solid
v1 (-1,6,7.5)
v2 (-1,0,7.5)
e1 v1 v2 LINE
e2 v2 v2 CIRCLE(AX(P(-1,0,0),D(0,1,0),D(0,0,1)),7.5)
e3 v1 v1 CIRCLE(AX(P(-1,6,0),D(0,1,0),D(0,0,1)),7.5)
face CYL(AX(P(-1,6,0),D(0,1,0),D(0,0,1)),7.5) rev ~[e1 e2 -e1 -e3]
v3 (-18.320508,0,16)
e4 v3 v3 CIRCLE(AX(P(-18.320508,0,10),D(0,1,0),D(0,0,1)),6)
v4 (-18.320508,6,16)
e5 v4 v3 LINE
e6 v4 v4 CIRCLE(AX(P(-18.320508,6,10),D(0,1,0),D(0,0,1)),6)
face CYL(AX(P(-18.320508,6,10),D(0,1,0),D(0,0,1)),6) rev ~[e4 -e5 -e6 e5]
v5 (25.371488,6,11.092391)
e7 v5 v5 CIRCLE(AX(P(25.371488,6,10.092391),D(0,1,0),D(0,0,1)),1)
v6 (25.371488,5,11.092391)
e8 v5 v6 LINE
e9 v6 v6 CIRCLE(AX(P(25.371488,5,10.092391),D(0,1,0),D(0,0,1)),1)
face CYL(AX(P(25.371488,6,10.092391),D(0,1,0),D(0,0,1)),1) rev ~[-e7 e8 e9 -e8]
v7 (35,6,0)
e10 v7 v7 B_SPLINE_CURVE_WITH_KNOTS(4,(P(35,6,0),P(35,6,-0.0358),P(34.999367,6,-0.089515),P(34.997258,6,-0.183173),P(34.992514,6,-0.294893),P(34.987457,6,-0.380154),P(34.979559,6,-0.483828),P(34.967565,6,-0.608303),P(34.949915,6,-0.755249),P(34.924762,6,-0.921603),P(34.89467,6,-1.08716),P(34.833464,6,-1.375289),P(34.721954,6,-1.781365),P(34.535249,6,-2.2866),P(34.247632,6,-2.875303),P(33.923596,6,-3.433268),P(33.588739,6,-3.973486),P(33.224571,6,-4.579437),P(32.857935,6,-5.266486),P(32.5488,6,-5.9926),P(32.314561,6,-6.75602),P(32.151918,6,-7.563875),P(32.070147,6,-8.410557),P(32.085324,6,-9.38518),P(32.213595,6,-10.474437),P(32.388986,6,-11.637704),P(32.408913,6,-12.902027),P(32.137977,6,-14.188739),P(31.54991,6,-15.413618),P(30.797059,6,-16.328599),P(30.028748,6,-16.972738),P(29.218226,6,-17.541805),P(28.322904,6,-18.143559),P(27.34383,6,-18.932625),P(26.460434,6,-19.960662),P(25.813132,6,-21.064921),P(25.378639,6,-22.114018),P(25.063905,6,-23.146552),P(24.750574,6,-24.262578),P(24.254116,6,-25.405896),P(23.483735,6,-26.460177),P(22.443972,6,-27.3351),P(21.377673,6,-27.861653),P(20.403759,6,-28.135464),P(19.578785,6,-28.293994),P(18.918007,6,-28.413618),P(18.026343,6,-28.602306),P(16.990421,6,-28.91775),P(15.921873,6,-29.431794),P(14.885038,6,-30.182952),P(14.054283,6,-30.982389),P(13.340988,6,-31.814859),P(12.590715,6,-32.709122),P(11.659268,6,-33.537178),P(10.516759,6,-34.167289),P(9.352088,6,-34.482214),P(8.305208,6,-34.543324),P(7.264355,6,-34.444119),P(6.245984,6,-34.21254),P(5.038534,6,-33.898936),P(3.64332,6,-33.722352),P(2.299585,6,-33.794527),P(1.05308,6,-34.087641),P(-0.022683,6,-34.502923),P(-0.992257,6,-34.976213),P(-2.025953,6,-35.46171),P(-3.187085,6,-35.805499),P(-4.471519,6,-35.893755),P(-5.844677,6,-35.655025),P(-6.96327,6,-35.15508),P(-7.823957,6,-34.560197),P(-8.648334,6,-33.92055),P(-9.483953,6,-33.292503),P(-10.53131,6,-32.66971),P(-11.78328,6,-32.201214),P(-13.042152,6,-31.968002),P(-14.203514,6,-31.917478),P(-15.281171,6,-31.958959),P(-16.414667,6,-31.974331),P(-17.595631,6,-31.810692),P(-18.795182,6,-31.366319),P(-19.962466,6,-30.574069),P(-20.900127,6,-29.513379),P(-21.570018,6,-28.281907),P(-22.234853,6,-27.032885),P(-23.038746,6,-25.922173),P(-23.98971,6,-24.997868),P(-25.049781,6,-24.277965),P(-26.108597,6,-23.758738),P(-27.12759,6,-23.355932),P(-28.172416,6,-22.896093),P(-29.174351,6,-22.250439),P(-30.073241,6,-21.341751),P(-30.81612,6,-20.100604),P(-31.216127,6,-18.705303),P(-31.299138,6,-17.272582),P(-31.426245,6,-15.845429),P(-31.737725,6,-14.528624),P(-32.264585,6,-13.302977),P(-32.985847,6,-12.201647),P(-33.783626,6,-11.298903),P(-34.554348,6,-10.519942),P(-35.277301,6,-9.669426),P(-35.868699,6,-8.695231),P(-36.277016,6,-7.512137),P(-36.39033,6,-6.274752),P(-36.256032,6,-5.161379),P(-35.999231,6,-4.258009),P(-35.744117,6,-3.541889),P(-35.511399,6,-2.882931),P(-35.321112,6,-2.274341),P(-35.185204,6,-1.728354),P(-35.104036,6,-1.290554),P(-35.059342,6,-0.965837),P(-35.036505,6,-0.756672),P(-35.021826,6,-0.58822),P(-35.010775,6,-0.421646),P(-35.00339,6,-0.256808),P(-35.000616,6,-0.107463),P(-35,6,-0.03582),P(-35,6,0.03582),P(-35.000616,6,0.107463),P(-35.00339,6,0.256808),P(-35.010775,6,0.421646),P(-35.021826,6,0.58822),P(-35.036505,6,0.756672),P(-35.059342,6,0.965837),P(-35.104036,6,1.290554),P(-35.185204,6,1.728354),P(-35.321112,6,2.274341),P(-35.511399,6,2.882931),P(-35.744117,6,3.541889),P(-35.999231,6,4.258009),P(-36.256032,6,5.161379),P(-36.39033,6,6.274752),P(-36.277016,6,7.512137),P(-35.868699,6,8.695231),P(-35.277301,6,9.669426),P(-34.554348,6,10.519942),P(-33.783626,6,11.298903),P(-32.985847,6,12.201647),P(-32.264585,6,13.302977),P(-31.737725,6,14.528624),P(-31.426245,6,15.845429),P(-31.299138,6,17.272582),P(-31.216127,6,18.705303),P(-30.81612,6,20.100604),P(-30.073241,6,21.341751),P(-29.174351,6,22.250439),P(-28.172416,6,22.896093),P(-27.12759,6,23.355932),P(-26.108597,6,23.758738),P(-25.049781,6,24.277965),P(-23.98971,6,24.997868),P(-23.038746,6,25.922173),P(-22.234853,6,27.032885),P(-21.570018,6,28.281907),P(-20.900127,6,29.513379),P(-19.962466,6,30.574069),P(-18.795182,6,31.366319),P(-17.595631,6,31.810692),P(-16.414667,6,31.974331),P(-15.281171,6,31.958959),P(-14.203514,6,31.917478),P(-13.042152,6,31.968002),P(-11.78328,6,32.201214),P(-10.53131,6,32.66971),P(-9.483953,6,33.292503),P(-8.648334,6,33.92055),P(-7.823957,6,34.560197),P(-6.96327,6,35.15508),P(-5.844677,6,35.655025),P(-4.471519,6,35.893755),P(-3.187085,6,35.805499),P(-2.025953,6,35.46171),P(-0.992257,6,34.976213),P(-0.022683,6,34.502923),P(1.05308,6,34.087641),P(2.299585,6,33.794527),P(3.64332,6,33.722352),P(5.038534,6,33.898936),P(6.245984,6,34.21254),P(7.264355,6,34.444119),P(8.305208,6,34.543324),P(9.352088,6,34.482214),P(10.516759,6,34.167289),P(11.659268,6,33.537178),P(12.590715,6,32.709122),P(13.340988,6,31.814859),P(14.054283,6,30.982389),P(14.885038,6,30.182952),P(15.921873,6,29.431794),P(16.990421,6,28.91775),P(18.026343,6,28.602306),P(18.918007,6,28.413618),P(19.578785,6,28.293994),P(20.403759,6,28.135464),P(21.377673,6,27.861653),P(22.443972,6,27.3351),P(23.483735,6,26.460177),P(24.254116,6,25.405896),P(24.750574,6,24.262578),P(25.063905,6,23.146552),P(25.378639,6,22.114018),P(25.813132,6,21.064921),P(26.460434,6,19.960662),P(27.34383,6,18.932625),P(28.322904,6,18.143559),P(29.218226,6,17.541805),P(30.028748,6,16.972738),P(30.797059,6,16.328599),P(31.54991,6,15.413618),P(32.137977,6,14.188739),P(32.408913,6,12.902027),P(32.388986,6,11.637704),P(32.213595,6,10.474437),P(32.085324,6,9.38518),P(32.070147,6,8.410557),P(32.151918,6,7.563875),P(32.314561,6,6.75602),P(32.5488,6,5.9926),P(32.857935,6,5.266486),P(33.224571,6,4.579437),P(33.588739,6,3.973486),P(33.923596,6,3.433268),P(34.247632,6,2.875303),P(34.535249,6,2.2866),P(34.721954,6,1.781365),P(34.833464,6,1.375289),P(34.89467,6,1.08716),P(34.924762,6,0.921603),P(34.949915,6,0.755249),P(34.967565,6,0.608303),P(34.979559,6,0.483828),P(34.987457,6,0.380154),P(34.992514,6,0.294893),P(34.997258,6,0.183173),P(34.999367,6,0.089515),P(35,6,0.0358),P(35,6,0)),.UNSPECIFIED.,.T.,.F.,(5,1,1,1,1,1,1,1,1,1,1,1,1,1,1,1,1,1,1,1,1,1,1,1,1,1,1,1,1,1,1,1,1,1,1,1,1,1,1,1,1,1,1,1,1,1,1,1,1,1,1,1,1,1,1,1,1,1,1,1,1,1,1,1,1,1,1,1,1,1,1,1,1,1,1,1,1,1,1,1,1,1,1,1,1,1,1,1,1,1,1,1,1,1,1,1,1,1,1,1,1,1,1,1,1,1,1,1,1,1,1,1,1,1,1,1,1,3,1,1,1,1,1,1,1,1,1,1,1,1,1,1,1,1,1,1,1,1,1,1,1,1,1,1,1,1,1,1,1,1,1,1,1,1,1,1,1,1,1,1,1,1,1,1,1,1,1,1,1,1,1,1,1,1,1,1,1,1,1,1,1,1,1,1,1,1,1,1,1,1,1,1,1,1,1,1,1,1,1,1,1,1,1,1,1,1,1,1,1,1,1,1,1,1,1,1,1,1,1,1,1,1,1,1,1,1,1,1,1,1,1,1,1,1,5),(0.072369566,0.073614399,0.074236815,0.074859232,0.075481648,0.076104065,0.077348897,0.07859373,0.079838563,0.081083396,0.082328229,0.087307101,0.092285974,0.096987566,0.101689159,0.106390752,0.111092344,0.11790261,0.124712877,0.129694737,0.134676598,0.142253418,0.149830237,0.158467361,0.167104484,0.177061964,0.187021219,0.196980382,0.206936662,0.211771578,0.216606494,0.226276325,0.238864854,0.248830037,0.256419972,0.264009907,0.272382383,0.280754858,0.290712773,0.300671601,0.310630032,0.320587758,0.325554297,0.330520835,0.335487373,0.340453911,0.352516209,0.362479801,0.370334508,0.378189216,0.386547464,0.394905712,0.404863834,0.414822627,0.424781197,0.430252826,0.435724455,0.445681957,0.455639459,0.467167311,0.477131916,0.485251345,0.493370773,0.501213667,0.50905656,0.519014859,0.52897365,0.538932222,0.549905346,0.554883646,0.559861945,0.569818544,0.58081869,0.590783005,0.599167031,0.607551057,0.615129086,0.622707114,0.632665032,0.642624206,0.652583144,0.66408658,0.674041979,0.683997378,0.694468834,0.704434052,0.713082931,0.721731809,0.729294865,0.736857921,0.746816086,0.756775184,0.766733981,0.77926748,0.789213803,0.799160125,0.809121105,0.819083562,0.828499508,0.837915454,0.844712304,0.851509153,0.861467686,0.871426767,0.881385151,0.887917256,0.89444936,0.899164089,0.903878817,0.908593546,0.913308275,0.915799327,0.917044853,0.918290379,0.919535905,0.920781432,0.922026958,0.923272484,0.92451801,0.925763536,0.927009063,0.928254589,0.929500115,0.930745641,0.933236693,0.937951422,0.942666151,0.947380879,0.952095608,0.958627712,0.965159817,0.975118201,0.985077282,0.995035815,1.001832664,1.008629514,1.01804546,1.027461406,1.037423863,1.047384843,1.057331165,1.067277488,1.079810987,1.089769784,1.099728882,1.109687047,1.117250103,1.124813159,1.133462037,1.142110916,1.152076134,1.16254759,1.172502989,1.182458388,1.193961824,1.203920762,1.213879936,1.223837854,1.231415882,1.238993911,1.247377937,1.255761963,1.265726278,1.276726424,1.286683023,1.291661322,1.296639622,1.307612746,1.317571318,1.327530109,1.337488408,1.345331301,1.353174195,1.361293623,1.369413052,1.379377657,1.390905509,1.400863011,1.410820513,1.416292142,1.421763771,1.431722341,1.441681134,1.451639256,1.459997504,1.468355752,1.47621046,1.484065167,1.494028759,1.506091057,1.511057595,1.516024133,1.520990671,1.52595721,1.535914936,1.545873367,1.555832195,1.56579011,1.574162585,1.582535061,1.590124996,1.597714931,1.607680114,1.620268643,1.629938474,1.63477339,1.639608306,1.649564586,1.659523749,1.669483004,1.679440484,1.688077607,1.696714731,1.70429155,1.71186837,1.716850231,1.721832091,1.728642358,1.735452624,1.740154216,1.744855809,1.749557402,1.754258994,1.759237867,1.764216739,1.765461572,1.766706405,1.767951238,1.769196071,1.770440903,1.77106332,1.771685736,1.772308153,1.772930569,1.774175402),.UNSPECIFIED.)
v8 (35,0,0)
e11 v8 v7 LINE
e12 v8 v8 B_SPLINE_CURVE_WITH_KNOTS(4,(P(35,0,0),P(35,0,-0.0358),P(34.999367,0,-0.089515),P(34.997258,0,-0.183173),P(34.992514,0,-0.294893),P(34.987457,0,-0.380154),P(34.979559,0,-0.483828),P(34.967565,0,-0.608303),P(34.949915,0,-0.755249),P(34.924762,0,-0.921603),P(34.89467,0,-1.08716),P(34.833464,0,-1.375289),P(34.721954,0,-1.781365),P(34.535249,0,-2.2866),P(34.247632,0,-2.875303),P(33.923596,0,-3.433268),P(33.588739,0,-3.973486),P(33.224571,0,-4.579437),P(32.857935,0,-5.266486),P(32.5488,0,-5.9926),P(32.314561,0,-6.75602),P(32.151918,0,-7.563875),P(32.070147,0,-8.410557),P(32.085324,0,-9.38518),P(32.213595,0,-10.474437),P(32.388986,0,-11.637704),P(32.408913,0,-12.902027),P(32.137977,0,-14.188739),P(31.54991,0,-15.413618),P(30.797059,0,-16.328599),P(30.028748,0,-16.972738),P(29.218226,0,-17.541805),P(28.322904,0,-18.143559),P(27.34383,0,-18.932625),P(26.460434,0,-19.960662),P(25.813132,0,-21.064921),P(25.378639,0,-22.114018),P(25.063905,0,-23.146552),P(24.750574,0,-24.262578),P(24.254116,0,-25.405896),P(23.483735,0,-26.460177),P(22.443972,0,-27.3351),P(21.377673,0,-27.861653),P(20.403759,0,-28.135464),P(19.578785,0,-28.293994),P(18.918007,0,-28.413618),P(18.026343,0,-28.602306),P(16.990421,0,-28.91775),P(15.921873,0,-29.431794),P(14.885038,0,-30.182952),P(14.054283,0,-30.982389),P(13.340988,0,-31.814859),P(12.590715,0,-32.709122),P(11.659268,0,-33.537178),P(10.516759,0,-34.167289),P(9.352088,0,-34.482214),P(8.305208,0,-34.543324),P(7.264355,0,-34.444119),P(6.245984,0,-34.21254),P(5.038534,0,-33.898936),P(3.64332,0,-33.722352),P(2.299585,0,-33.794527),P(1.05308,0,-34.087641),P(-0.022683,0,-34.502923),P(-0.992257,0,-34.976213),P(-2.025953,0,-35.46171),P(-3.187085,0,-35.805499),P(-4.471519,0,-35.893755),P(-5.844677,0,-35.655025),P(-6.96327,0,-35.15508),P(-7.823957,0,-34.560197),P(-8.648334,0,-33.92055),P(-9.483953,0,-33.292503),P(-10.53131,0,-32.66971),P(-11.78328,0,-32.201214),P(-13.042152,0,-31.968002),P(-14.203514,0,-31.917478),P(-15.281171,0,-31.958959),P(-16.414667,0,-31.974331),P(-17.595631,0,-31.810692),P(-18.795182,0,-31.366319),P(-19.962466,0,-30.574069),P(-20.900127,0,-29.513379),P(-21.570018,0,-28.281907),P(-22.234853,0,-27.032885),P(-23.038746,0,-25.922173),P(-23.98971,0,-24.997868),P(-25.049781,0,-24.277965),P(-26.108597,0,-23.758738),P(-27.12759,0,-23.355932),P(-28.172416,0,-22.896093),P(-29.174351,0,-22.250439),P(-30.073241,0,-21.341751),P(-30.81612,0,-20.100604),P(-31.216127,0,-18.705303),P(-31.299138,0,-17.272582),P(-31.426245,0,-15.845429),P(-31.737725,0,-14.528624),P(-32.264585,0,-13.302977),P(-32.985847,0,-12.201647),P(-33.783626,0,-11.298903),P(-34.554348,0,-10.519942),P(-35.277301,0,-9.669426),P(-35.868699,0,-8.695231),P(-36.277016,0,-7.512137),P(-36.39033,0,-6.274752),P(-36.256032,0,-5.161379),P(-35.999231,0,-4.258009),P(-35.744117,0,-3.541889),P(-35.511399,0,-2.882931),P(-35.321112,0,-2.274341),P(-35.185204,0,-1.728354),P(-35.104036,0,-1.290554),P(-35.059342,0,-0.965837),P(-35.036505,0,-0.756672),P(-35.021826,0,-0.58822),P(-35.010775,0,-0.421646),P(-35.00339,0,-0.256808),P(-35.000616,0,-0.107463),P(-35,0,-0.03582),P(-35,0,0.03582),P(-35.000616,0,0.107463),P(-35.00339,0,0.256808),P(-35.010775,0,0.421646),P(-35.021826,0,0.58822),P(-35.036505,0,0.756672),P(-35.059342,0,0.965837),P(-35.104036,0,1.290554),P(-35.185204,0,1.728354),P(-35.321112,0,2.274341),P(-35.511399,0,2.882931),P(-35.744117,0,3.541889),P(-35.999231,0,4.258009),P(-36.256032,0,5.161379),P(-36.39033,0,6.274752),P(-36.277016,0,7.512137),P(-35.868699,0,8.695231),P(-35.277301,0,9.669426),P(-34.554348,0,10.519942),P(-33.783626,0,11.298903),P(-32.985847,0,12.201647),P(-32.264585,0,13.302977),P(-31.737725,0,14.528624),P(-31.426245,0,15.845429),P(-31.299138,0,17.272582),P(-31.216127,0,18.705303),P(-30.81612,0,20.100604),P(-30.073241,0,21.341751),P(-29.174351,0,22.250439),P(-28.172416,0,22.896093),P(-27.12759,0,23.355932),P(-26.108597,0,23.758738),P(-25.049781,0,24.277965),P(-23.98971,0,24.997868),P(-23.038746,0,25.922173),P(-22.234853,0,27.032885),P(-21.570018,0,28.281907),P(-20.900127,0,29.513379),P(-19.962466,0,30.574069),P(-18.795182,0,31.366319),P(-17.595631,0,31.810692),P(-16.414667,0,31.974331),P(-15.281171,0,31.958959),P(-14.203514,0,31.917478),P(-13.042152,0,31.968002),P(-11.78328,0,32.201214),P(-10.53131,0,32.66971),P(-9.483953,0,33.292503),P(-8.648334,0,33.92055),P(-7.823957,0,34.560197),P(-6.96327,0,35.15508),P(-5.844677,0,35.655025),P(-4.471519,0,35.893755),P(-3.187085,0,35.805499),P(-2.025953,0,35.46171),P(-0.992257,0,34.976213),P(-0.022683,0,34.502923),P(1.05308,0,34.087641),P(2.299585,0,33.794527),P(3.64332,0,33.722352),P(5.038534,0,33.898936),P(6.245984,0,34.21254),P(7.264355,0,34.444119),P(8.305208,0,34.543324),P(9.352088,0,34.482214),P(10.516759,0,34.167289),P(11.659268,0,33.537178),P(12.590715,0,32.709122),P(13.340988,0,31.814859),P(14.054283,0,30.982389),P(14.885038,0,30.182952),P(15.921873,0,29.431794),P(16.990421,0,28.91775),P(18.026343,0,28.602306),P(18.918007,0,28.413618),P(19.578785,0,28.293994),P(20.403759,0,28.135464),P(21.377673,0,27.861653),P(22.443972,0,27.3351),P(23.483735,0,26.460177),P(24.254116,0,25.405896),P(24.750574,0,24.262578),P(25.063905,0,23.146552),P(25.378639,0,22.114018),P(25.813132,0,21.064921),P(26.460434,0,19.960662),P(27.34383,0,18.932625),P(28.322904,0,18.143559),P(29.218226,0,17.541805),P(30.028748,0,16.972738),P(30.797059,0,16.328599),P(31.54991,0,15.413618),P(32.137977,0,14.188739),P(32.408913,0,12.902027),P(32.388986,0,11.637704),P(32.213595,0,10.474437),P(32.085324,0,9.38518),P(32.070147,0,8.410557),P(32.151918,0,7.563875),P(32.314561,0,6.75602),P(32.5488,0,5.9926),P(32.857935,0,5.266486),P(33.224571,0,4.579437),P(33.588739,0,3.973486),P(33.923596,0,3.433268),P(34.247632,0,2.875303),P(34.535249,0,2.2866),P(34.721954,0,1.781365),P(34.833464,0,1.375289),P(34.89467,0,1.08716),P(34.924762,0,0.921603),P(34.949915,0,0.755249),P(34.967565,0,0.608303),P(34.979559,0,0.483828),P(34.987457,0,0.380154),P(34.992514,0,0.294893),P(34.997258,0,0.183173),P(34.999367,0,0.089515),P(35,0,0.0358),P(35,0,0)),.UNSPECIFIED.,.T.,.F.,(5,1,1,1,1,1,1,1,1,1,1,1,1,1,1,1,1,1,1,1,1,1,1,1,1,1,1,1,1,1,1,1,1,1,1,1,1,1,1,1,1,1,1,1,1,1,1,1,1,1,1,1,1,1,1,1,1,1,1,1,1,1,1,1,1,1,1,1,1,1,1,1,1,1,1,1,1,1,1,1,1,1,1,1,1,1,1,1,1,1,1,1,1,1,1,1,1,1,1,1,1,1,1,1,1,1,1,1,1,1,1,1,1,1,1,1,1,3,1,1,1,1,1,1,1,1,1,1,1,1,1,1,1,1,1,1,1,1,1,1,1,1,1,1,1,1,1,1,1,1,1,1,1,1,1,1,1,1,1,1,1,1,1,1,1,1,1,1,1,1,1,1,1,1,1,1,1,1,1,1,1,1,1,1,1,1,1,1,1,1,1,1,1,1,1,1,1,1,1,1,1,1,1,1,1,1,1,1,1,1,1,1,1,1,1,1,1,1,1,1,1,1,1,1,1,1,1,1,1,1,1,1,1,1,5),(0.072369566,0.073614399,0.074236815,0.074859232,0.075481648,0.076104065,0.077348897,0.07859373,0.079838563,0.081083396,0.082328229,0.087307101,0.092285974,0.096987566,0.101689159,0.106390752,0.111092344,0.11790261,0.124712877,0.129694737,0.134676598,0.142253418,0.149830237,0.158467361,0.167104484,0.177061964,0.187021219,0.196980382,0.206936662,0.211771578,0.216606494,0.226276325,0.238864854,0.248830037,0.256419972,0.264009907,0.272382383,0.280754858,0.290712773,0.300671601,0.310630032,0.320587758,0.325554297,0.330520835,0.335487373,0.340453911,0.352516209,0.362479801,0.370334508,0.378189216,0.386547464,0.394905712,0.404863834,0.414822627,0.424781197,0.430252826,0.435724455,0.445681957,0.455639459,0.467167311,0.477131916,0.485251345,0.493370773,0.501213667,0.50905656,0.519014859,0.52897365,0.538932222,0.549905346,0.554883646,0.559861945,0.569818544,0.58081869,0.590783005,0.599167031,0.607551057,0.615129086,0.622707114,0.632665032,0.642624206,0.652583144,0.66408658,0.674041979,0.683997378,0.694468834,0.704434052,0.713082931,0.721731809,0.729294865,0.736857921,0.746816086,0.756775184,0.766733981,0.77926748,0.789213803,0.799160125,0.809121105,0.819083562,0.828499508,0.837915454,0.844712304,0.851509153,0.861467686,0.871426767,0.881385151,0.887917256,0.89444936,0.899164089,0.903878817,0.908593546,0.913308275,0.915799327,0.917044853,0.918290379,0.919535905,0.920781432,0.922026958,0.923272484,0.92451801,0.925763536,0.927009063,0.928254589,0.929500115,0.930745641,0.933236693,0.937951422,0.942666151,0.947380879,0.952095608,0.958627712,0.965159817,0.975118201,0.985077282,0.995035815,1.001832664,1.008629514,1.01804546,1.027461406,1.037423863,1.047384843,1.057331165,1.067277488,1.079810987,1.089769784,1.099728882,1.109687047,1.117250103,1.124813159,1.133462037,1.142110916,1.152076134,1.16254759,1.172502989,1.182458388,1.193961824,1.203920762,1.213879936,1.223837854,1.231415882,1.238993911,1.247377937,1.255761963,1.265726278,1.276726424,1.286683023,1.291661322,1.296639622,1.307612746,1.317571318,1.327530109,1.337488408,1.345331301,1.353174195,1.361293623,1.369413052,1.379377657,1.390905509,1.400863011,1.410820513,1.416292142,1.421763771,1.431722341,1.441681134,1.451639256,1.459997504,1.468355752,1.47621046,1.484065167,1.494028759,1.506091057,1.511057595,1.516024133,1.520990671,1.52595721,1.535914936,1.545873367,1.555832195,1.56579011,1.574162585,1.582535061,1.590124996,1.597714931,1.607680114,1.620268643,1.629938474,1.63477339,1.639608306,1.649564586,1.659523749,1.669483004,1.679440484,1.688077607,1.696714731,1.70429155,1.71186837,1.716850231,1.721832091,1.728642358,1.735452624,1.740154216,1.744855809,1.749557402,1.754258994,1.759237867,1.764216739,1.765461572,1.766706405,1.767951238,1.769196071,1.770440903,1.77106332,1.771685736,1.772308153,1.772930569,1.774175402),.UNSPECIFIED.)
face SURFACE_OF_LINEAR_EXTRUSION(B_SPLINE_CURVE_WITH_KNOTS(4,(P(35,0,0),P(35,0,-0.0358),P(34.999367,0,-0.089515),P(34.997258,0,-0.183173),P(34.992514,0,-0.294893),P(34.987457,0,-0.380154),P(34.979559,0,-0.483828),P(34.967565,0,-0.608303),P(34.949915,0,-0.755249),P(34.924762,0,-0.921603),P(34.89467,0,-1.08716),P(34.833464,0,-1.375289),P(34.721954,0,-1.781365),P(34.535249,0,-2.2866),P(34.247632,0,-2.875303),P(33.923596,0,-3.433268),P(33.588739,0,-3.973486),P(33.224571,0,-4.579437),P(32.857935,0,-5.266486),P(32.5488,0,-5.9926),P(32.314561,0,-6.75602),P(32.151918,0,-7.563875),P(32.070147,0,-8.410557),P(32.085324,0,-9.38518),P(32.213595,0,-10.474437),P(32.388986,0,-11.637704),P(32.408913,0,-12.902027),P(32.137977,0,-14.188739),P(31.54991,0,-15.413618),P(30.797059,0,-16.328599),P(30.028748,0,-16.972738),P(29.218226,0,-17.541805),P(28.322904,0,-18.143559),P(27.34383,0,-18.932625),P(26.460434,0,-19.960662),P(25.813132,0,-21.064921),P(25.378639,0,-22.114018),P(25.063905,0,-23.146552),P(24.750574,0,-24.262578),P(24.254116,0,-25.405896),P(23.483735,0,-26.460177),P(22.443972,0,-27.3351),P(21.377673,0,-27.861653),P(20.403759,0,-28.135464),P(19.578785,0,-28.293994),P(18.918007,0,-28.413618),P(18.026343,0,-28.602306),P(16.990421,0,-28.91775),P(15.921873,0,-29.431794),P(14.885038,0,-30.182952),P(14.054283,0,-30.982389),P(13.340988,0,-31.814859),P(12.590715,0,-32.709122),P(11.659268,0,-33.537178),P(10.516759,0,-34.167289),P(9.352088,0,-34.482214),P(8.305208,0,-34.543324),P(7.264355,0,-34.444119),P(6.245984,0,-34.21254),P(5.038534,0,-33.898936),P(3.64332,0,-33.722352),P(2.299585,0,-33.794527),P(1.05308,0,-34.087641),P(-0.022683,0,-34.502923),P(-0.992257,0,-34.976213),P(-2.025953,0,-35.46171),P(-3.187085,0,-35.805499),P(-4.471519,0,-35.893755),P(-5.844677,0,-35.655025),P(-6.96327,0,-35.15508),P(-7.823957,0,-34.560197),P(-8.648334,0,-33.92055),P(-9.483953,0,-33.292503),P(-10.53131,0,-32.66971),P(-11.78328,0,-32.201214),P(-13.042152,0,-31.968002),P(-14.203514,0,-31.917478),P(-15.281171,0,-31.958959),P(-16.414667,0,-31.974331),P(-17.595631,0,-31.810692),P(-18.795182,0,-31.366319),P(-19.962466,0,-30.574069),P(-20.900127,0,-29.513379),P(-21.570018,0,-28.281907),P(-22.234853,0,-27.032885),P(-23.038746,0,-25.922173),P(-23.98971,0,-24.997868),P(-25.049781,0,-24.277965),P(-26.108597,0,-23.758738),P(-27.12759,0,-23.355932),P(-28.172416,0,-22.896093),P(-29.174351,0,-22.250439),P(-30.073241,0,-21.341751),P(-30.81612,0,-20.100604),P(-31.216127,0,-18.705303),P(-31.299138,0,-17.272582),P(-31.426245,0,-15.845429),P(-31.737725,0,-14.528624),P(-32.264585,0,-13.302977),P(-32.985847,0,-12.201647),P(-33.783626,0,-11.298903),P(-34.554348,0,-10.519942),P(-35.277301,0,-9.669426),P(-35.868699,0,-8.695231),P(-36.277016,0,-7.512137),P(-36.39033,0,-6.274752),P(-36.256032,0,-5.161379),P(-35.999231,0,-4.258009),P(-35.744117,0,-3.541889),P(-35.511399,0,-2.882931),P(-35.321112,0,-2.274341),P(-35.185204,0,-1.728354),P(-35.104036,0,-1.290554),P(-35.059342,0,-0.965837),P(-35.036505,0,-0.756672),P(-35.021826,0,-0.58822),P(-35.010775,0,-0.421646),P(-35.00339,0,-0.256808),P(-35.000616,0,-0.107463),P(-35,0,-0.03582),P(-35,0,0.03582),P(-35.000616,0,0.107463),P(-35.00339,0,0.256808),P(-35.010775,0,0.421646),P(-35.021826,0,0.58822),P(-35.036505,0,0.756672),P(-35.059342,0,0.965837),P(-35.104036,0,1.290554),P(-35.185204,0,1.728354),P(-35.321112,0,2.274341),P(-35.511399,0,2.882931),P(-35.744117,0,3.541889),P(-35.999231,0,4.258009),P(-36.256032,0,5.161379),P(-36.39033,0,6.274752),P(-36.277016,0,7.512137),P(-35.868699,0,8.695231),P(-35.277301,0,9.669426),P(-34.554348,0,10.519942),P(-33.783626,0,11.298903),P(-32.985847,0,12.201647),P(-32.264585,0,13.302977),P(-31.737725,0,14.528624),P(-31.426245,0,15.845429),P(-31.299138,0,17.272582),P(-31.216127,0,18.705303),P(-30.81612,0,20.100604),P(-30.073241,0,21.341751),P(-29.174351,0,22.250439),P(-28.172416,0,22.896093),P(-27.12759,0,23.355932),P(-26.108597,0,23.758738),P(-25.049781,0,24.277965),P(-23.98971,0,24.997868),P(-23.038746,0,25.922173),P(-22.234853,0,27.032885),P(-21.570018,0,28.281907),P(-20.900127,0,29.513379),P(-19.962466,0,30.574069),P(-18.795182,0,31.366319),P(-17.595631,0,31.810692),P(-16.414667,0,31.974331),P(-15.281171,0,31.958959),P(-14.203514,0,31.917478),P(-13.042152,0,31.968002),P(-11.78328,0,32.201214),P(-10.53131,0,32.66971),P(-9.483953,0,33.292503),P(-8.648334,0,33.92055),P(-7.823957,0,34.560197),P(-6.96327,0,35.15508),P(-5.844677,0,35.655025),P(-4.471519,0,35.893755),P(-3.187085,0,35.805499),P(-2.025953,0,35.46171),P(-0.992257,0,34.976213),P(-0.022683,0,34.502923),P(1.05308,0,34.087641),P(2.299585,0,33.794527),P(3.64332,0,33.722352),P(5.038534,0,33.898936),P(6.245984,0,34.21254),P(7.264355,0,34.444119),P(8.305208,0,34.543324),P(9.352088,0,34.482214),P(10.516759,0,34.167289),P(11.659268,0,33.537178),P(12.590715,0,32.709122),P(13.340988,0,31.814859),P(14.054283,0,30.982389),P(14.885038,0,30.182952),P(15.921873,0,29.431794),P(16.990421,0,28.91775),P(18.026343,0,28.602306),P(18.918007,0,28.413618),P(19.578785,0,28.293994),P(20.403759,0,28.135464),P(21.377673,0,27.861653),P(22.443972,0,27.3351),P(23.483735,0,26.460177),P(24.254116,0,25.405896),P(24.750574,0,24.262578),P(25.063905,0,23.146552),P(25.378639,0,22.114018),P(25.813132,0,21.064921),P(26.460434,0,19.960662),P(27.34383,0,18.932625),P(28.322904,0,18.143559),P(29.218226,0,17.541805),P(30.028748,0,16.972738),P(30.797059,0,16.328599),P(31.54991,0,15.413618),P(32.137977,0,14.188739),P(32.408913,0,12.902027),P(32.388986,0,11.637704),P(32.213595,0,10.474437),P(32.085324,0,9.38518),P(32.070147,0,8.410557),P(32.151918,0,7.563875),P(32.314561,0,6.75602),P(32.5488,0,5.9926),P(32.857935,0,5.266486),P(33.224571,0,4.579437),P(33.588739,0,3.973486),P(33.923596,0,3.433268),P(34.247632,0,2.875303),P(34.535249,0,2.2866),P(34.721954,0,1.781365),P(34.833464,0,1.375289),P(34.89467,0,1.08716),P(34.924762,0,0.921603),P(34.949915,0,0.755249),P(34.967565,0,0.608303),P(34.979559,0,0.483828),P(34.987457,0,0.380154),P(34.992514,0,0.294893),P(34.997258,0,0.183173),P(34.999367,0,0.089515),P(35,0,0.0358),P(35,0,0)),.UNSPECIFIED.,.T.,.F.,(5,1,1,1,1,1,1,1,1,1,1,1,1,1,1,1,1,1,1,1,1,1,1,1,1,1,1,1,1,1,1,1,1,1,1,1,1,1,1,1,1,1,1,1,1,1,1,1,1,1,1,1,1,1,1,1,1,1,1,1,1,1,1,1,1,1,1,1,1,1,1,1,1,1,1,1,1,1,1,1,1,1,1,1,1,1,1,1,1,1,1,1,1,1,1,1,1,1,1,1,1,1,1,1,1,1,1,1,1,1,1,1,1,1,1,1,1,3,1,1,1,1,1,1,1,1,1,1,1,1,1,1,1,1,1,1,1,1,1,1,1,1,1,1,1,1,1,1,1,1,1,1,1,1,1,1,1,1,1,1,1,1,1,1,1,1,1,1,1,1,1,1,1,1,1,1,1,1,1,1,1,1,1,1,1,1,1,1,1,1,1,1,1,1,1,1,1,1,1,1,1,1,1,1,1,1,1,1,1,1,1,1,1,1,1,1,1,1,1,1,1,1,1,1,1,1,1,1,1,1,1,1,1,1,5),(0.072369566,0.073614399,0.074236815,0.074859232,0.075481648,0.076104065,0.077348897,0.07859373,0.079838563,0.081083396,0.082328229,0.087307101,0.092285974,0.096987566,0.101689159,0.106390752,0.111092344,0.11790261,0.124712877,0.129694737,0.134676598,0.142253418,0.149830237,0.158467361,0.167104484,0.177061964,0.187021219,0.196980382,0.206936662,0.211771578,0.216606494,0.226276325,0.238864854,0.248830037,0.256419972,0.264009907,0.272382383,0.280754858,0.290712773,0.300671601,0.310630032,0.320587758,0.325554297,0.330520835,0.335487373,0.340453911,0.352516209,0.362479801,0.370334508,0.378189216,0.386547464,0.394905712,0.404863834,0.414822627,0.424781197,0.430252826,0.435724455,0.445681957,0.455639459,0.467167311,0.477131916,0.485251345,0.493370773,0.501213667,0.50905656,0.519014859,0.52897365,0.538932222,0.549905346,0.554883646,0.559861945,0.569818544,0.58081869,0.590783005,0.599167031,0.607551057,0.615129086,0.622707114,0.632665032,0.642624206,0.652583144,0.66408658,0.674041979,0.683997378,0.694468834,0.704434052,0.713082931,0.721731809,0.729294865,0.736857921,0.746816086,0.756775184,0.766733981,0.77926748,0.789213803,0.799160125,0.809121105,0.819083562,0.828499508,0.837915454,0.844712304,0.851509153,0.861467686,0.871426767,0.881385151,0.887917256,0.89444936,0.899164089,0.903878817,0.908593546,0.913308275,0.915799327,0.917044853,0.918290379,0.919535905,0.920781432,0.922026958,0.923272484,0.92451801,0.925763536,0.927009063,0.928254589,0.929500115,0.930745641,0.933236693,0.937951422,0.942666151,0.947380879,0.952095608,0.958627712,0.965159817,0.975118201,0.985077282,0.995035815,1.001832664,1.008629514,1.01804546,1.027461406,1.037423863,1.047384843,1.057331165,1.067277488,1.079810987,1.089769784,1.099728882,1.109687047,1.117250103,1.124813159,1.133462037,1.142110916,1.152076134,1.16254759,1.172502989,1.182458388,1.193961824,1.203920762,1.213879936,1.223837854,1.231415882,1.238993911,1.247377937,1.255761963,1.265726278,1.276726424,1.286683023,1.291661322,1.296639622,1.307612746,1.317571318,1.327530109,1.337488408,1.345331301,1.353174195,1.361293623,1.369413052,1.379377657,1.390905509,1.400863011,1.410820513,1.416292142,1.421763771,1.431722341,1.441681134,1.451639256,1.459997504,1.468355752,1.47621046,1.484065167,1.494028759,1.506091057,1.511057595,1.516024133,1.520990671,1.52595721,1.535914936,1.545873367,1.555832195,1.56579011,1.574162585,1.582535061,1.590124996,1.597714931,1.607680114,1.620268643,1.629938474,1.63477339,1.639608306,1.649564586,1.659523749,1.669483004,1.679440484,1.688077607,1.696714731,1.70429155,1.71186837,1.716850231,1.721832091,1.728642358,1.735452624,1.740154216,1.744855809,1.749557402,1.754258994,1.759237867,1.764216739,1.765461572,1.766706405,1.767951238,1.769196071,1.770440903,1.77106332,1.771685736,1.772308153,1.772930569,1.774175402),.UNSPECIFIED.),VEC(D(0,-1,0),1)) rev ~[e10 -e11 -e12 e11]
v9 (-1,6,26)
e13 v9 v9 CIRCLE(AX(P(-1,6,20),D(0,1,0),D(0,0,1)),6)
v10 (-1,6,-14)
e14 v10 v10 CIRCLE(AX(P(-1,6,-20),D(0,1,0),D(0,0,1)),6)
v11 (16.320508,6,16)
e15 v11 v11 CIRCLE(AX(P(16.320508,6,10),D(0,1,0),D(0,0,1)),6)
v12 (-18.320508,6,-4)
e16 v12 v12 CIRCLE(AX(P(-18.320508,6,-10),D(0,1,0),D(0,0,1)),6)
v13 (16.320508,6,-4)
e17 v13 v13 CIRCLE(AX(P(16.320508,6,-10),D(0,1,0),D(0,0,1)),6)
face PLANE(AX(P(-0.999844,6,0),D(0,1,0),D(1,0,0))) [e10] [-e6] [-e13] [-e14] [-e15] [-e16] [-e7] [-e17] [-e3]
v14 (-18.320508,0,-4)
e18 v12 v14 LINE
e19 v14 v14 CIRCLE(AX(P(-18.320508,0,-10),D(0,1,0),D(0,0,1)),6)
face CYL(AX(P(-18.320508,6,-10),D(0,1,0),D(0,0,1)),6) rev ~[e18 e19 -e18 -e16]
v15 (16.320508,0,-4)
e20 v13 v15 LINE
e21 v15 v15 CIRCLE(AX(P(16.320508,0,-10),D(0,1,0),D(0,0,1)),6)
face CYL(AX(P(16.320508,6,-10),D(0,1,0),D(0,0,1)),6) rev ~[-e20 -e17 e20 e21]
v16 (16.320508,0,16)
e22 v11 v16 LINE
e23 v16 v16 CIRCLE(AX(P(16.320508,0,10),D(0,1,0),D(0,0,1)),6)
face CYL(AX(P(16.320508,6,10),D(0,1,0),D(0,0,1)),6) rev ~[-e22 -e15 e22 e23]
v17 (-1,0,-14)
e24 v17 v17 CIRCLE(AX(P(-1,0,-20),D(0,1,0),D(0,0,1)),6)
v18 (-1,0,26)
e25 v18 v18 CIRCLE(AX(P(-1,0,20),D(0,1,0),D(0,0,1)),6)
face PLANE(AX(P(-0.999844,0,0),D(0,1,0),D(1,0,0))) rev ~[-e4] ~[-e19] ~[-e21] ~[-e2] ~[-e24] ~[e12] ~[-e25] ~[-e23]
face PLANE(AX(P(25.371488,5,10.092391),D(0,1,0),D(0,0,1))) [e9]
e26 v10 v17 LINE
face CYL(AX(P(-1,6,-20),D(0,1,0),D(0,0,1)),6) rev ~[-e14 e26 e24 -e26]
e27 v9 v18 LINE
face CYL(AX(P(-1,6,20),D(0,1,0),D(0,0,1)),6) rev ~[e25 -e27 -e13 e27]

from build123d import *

# Parameters (mm, degrees)
BOSS_EXTRUDE1_DEPTH = 6
SKETCH4_R           = 7.5
SKETCH4_R_2         = 6
CUT_EXTRUDE1_DEPTH  = 52.384193919
SKETCH5_R           = 1
CUT_EXTRUDE2_DEPTH  = 1


with BuildPart() as part:
    # Sketch3 → Boss-Extrude1 (new body)
    with BuildSketch(Plane(origin=(0, 0, 0), x_dir=(1, 0, 0), z_dir=(0, 1, 0))):
        with BuildLine():
            add(Edge.make_bspline(
                [(-35, 0), (-35, -0.035819522), (-35.000616373, -0.107462841), (-35.003390054, -0.256808001), (-35.01077535, -0.421646413), (-35.021825769, -0.588219856), (-35.036504882, -0.756672424), (-35.059341773, -0.965837166), (-35.104035951, -1.290553755), (-35.185204177, -1.728353622), (-35.321111932, -2.274340703), (-35.511398877, -2.882930915), (-35.744117036, -3.541888991), (-35.999231193, -4.25800942), (-36.256031973, -5.161379022), (-36.390330129, -6.274752326), (-36.277015947, -7.512136969), (-35.868698722, -8.695231313), (-35.277300884, -9.669426211), (-34.554347705, -10.519941998), (-33.783626013, -11.298902855), (-32.985846748, -12.201646947), (-32.264584631, -13.30297659), (-31.737724515, -14.528623762), (-31.426244596, -15.845428611), (-31.299137645, -17.27258243), (-31.216127, -18.70530298), (-30.816120234, -20.100603953), (-30.073240875, -21.341751418), (-29.174351138, -22.250438515), (-28.172415899, -22.896093055), (-27.127590318, -23.355931746), (-26.10859664, -23.758738206), (-25.049780962, -24.277964858), (-23.989709649, -24.997868072), (-23.038745697, -25.922173331), (-22.234852767, -27.03288543), (-21.57001817, -28.281907032), (-20.900127092, -29.513378936), (-19.962466181, -30.574068753), (-18.795181919, -31.366318649), (-17.595631263, -31.810691732), (-16.414666993, -31.974330851), (-15.281171148, -31.958959306), (-14.203514384, -31.91747762), (-13.042151806, -31.968001953), (-11.783279681, -32.201214224), (-10.531309832, -32.66971044), (-9.48395263, -33.292502605), (-8.648334169, -33.920550223), (-7.823957174, -34.560196788), (-6.963270269, -35.155080008), (-5.844676613, -35.655024643), (-4.471519425, -35.893755086), (-3.187084678, -35.805499477), (-2.025952576, -35.461710054), (-0.992256939, -34.976213141), (-0.022683462, -34.502923006), (1.053080375, -34.087641485), (2.299584809, -33.794526859), (3.643320491, -33.722351619), (5.038534255, -33.89893647), (6.24598376, -34.2125404), (7.264354515, -34.444119372), (8.305207807, -34.543324073), (9.35208771, -34.482213909), (10.516758731, -34.167289325), (11.659268337, -33.537177777), (12.590715473, -32.709121516), (13.34098787, -31.814858509), (14.054283468, -30.982389039), (14.885038409, -30.182951686), (15.921872801, -29.431794231), (16.990420846, -28.917750141), (18.026343297, -28.602305782), (18.918007091, -28.413618025), (19.578784746, -28.293993849), (20.403759493, -28.135463838), (21.377672688, -27.861653344), (22.443971731, -27.335099919), (23.483734656, -26.460176512), (24.2541157, -25.405895772), (24.750574375, -24.262578026), (25.063904971, -23.146552345), (25.378639074, -22.114017621), (25.813131886, -21.064921211), (26.460434486, -19.960662125), (27.343829971, -18.932625358), (28.322904319, -18.143559056), (29.218225657, -17.541804862), (30.028748291, -16.97273782), (30.797058719, -16.328598531), (31.549909645, -15.413617977), (32.137977425, -14.188738612), (32.4089126, -12.90202686), (32.388985538, -11.637704019), (32.213594686, -10.474436855), (32.085323796, -9.385180269), (32.070146733, -8.410557002), (32.151917663, -7.56387468), (32.314560623, -6.756019588), (32.548800101, -5.992599911), (32.857935391, -5.266485518), (33.224571124, -4.579437291), (33.588738685, -3.973485748), (33.923596212, -3.433268023), (34.247631958, -2.87530324), (34.535248612, -2.28660009), (34.721954293, -1.781365153), (34.833464319, -1.375289499), (34.894669525, -1.087159539), (34.924762046, -0.921603412), (34.949915122, -0.755248907), (34.967564963, -0.608302523), (34.979558938, -0.483828007), (34.987456793, -0.380154151), (34.992514334, -0.294893351), (34.997257891, -0.183172559), (34.999367206, -0.089514524), (35, -0.035799586), (35, 0)],
                knots=[0.072369566, 0.072369566, 0.072369566, 0.072369566, 0.072369566, 0.073615092, 0.074860618, 0.076106145, 0.077351671, 0.078597197, 0.079842723, 0.082333775, 0.087048504, 0.091763233, 0.096477961, 0.10119269, 0.107724794, 0.114256899, 0.124215283, 0.134174364, 0.144132897, 0.150929746, 0.157726596, 0.167142542, 0.176558488, 0.186520945, 0.196481925, 0.206428247, 0.21637457, 0.228908069, 0.238866866, 0.248825964, 0.258784129, 0.266347185, 0.273910241, 0.282559119, 0.291207998, 0.301173216, 0.311644672, 0.321600071, 0.33155547, 0.343058906, 0.353017844, 0.362977018, 0.372934936, 0.380512964, 0.388090993, 0.396475019, 0.404859045, 0.41482336, 0.425823506, 0.435780105, 0.440758404, 0.445736704, 0.456709828, 0.4666684, 0.476627191, 0.48658549, 0.494428383, 0.502271277, 0.510390705, 0.518510134, 0.528474739, 0.540002591, 0.549960093, 0.559917595, 0.565389224, 0.570860853, 0.580819423, 0.590778216, 0.600736338, 0.609094586, 0.617452834, 0.625307542, 0.633162249, 0.643125841, 0.655188139, 0.660154677, 0.665121215, 0.670087753, 0.675054292, 0.685012018, 0.694970449, 0.704929277, 0.714887192, 0.723259667, 0.731632143, 0.739222078, 0.746812013, 0.756777196, 0.769365725, 0.779035556, 0.783870472, 0.788705388, 0.798661668, 0.808620831, 0.818580086, 0.828537566, 0.837174689, 0.845811813, 0.853388632, 0.860965452, 0.865947313, 0.870929173, 0.87773944, 0.884549706, 0.889251298, 0.893952891, 0.898654484, 0.903356076, 0.908334949, 0.913313821, 0.914558654, 0.915803487, 0.91704832, 0.918293153, 0.919537985, 0.920160402, 0.920782818, 0.921405235, 0.922027651, 0.923272484, 0.923272484, 0.923272484, 0.923272484, 0.923272484], degree=4))
            add(Edge.make_bspline(
                [(-35, 0), (-35, 0.035819522), (-35.000616373, 0.107462841), (-35.003390054, 0.256808001), (-35.01077535, 0.421646413), (-35.021825769, 0.588219856), (-35.036504882, 0.756672424), (-35.059341773, 0.965837166), (-35.104035951, 1.290553755), (-35.185204177, 1.728353622), (-35.321111932, 2.274340703), (-35.511398877, 2.882930915), (-35.744117036, 3.541888991), (-35.999231193, 4.25800942), (-36.256031973, 5.161379022), (-36.390330129, 6.274752326), (-36.277015947, 7.512136969), (-35.868698722, 8.695231313), (-35.277300884, 9.669426211), (-34.554347705, 10.519941998), (-33.783626013, 11.298902855), (-32.985846748, 12.201646947), (-32.264584631, 13.30297659), (-31.737724515, 14.528623762), (-31.426244596, 15.845428611), (-31.299137645, 17.27258243), (-31.216127, 18.70530298), (-30.816120234, 20.100603953), (-30.073240875, 21.341751418), (-29.174351138, 22.250438515), (-28.172415899, 22.896093055), (-27.127590318, 23.355931746), (-26.10859664, 23.758738206), (-25.049780962, 24.277964858), (-23.989709649, 24.997868072), (-23.038745697, 25.922173331), (-22.234852767, 27.03288543), (-21.57001817, 28.281907032), (-20.900127092, 29.513378936), (-19.962466181, 30.574068753), (-18.795181919, 31.366318649), (-17.595631263, 31.810691732), (-16.414666993, 31.974330851), (-15.281171148, 31.958959306), (-14.203514384, 31.91747762), (-13.042151806, 31.968001953), (-11.783279681, 32.201214224), (-10.531309831, 32.66971044), (-9.48395263, 33.292502605), (-8.648334169, 33.920550223), (-7.823957174, 34.560196788), (-6.963270269, 35.155080008), (-5.844676613, 35.655024643), (-4.471519425, 35.893755086), (-3.187084678, 35.805499476), (-2.025952576, 35.461710054), (-0.992256939, 34.976213141), (-0.022683462, 34.502923006), (1.053080375, 34.087641485), (2.299584809, 33.794526859), (3.643320491, 33.722351618), (5.038534255, 33.89893647), (6.24598376, 34.2125404), (7.264354515, 34.444119372), (8.305207807, 34.543324073), (9.35208771, 34.482213909), (10.516758731, 34.167289325), (11.659268337, 33.537177777), (12.590715473, 32.709121516), (13.34098787, 31.814858509), (14.054283468, 30.982389039), (14.885038409, 30.182951686), (15.921872801, 29.431794231), (16.990420846, 28.917750141), (18.026343297, 28.602305782), (18.918007091, 28.413618025), (19.578784746, 28.293993848), (20.403759493, 28.135463838), (21.377672688, 27.861653344), (22.443971731, 27.335099919), (23.483734656, 26.460176512), (24.2541157, 25.405895772), (24.750574375, 24.262578026), (25.063904971, 23.146552345), (25.378639074, 22.114017621), (25.813131886, 21.064921211), (26.460434486, 19.960662125), (27.343829971, 18.932625358), (28.322904319, 18.143559056), (29.218225657, 17.541804862), (30.028748291, 16.97273782), (30.797058719, 16.328598531), (31.549909645, 15.413617977), (32.137977425, 14.188738612), (32.4089126, 12.90202686), (32.388985538, 11.637704019), (32.213594686, 10.474436855), (32.085323796, 9.385180269), (32.070146733, 8.410557002), (32.151917663, 7.56387468), (32.314560623, 6.756019588), (32.548800101, 5.992599911), (32.857935391, 5.266485518), (33.224571124, 4.579437291), (33.588738685, 3.973485748), (33.923596212, 3.433268023), (34.247631958, 2.87530324), (34.535248612, 2.28660009), (34.721954293, 1.781365153), (34.833464319, 1.375289499), (34.894669525, 1.087159539), (34.924762046, 0.921603411), (34.949915122, 0.755248907), (34.967564963, 0.608302523), (34.979558938, 0.483828007), (34.987456793, 0.380154151), (34.992514334, 0.294893351), (34.997257891, 0.183172559), (34.999367206, 0.089514524), (35, 0.035799586), (35, 0)],
                knots=[0.072369566, 0.072369566, 0.072369566, 0.072369566, 0.072369566, 0.073615092, 0.074860618, 0.076106145, 0.077351671, 0.078597197, 0.079842723, 0.082333775, 0.087048504, 0.091763233, 0.096477961, 0.10119269, 0.107724794, 0.114256899, 0.124215283, 0.134174364, 0.144132897, 0.150929746, 0.157726596, 0.167142542, 0.176558488, 0.186520945, 0.196481925, 0.206428247, 0.21637457, 0.228908069, 0.238866866, 0.248825964, 0.258784129, 0.266347185, 0.273910241, 0.282559119, 0.291207998, 0.301173216, 0.311644672, 0.321600071, 0.33155547, 0.343058906, 0.353017844, 0.362977018, 0.372934936, 0.380512964, 0.388090993, 0.396475019, 0.404859045, 0.41482336, 0.425823506, 0.435780105, 0.440758404, 0.445736704, 0.456709828, 0.4666684, 0.476627191, 0.48658549, 0.494428383, 0.502271277, 0.510390705, 0.518510134, 0.528474739, 0.540002591, 0.549960093, 0.559917595, 0.565389224, 0.570860853, 0.580819423, 0.590778216, 0.600736338, 0.609094586, 0.617452834, 0.625307542, 0.633162249, 0.643125841, 0.655188139, 0.660154677, 0.665121215, 0.670087753, 0.675054292, 0.685012018, 0.694970449, 0.704929277, 0.714887192, 0.723259667, 0.731632143, 0.739222078, 0.746812013, 0.756777196, 0.769365725, 0.779035556, 0.783870472, 0.788705388, 0.798661668, 0.808620831, 0.818580086, 0.828537566, 0.837174689, 0.845811813, 0.853388632, 0.860965452, 0.865947313, 0.870929173, 0.87773944, 0.884549706, 0.889251298, 0.893952891, 0.898654484, 0.903356076, 0.908334949, 0.913313821, 0.914558654, 0.915803487, 0.91704832, 0.918293153, 0.919537985, 0.920160402, 0.920782818, 0.921405235, 0.922027651, 0.923272484, 0.923272484, 0.923272484, 0.923272484, 0.923272484], degree=4))
        make_face()
    extrude(amount=BOSS_EXTRUDE1_DEPTH)

    # Sketch4 → Cut-Extrude1 (cut, through all)
    with BuildSketch(Plane(origin=(0, 6, 0), x_dir=(1, 0, 0), z_dir=(0, 1, 0))):
        with Locations(Location((-1, 0, 0), (0, 0, 270))):
            Circle(SKETCH4_R)
        with Locations(Location((-1, 20, 0), (0, 0, 270))):
            Circle(SKETCH4_R_2)
        with Locations(Location((16.320508076, 10, 0), (0, 0, 270))):
            Circle(SKETCH4_R_2)
        with Locations(Location((16.320508076, -10, 0), (0, 0, 270))):
            Circle(SKETCH4_R_2)
        with Locations(Location((-1, -20, 0), (0, 0, 270))):
            Circle(SKETCH4_R_2)
        with Locations(Location((-18.320508076, -10, 0), (0, 0, 270))):
            Circle(SKETCH4_R_2)
        with Locations(Location((-18.320508076, 10, 0), (0, 0, 270))):
            Circle(SKETCH4_R_2)
    extrude(amount=-CUT_EXTRUDE1_DEPTH, mode=Mode.SUBTRACT)

    # Sketch5 → Cut-Extrude2 (cut)
    with BuildSketch(Plane(origin=(0, 6, 0), x_dir=(1, 0, 0), z_dir=(0, 1, 0))):
        with Locations(Location((25.37148754, -10.092390774, 0), (0, 0, 270))):
            Circle(SKETCH5_R)
    extrude(amount=-CUT_EXTRUDE2_DEPTH, mode=Mode.SUBTRACT)


solid = part.part
